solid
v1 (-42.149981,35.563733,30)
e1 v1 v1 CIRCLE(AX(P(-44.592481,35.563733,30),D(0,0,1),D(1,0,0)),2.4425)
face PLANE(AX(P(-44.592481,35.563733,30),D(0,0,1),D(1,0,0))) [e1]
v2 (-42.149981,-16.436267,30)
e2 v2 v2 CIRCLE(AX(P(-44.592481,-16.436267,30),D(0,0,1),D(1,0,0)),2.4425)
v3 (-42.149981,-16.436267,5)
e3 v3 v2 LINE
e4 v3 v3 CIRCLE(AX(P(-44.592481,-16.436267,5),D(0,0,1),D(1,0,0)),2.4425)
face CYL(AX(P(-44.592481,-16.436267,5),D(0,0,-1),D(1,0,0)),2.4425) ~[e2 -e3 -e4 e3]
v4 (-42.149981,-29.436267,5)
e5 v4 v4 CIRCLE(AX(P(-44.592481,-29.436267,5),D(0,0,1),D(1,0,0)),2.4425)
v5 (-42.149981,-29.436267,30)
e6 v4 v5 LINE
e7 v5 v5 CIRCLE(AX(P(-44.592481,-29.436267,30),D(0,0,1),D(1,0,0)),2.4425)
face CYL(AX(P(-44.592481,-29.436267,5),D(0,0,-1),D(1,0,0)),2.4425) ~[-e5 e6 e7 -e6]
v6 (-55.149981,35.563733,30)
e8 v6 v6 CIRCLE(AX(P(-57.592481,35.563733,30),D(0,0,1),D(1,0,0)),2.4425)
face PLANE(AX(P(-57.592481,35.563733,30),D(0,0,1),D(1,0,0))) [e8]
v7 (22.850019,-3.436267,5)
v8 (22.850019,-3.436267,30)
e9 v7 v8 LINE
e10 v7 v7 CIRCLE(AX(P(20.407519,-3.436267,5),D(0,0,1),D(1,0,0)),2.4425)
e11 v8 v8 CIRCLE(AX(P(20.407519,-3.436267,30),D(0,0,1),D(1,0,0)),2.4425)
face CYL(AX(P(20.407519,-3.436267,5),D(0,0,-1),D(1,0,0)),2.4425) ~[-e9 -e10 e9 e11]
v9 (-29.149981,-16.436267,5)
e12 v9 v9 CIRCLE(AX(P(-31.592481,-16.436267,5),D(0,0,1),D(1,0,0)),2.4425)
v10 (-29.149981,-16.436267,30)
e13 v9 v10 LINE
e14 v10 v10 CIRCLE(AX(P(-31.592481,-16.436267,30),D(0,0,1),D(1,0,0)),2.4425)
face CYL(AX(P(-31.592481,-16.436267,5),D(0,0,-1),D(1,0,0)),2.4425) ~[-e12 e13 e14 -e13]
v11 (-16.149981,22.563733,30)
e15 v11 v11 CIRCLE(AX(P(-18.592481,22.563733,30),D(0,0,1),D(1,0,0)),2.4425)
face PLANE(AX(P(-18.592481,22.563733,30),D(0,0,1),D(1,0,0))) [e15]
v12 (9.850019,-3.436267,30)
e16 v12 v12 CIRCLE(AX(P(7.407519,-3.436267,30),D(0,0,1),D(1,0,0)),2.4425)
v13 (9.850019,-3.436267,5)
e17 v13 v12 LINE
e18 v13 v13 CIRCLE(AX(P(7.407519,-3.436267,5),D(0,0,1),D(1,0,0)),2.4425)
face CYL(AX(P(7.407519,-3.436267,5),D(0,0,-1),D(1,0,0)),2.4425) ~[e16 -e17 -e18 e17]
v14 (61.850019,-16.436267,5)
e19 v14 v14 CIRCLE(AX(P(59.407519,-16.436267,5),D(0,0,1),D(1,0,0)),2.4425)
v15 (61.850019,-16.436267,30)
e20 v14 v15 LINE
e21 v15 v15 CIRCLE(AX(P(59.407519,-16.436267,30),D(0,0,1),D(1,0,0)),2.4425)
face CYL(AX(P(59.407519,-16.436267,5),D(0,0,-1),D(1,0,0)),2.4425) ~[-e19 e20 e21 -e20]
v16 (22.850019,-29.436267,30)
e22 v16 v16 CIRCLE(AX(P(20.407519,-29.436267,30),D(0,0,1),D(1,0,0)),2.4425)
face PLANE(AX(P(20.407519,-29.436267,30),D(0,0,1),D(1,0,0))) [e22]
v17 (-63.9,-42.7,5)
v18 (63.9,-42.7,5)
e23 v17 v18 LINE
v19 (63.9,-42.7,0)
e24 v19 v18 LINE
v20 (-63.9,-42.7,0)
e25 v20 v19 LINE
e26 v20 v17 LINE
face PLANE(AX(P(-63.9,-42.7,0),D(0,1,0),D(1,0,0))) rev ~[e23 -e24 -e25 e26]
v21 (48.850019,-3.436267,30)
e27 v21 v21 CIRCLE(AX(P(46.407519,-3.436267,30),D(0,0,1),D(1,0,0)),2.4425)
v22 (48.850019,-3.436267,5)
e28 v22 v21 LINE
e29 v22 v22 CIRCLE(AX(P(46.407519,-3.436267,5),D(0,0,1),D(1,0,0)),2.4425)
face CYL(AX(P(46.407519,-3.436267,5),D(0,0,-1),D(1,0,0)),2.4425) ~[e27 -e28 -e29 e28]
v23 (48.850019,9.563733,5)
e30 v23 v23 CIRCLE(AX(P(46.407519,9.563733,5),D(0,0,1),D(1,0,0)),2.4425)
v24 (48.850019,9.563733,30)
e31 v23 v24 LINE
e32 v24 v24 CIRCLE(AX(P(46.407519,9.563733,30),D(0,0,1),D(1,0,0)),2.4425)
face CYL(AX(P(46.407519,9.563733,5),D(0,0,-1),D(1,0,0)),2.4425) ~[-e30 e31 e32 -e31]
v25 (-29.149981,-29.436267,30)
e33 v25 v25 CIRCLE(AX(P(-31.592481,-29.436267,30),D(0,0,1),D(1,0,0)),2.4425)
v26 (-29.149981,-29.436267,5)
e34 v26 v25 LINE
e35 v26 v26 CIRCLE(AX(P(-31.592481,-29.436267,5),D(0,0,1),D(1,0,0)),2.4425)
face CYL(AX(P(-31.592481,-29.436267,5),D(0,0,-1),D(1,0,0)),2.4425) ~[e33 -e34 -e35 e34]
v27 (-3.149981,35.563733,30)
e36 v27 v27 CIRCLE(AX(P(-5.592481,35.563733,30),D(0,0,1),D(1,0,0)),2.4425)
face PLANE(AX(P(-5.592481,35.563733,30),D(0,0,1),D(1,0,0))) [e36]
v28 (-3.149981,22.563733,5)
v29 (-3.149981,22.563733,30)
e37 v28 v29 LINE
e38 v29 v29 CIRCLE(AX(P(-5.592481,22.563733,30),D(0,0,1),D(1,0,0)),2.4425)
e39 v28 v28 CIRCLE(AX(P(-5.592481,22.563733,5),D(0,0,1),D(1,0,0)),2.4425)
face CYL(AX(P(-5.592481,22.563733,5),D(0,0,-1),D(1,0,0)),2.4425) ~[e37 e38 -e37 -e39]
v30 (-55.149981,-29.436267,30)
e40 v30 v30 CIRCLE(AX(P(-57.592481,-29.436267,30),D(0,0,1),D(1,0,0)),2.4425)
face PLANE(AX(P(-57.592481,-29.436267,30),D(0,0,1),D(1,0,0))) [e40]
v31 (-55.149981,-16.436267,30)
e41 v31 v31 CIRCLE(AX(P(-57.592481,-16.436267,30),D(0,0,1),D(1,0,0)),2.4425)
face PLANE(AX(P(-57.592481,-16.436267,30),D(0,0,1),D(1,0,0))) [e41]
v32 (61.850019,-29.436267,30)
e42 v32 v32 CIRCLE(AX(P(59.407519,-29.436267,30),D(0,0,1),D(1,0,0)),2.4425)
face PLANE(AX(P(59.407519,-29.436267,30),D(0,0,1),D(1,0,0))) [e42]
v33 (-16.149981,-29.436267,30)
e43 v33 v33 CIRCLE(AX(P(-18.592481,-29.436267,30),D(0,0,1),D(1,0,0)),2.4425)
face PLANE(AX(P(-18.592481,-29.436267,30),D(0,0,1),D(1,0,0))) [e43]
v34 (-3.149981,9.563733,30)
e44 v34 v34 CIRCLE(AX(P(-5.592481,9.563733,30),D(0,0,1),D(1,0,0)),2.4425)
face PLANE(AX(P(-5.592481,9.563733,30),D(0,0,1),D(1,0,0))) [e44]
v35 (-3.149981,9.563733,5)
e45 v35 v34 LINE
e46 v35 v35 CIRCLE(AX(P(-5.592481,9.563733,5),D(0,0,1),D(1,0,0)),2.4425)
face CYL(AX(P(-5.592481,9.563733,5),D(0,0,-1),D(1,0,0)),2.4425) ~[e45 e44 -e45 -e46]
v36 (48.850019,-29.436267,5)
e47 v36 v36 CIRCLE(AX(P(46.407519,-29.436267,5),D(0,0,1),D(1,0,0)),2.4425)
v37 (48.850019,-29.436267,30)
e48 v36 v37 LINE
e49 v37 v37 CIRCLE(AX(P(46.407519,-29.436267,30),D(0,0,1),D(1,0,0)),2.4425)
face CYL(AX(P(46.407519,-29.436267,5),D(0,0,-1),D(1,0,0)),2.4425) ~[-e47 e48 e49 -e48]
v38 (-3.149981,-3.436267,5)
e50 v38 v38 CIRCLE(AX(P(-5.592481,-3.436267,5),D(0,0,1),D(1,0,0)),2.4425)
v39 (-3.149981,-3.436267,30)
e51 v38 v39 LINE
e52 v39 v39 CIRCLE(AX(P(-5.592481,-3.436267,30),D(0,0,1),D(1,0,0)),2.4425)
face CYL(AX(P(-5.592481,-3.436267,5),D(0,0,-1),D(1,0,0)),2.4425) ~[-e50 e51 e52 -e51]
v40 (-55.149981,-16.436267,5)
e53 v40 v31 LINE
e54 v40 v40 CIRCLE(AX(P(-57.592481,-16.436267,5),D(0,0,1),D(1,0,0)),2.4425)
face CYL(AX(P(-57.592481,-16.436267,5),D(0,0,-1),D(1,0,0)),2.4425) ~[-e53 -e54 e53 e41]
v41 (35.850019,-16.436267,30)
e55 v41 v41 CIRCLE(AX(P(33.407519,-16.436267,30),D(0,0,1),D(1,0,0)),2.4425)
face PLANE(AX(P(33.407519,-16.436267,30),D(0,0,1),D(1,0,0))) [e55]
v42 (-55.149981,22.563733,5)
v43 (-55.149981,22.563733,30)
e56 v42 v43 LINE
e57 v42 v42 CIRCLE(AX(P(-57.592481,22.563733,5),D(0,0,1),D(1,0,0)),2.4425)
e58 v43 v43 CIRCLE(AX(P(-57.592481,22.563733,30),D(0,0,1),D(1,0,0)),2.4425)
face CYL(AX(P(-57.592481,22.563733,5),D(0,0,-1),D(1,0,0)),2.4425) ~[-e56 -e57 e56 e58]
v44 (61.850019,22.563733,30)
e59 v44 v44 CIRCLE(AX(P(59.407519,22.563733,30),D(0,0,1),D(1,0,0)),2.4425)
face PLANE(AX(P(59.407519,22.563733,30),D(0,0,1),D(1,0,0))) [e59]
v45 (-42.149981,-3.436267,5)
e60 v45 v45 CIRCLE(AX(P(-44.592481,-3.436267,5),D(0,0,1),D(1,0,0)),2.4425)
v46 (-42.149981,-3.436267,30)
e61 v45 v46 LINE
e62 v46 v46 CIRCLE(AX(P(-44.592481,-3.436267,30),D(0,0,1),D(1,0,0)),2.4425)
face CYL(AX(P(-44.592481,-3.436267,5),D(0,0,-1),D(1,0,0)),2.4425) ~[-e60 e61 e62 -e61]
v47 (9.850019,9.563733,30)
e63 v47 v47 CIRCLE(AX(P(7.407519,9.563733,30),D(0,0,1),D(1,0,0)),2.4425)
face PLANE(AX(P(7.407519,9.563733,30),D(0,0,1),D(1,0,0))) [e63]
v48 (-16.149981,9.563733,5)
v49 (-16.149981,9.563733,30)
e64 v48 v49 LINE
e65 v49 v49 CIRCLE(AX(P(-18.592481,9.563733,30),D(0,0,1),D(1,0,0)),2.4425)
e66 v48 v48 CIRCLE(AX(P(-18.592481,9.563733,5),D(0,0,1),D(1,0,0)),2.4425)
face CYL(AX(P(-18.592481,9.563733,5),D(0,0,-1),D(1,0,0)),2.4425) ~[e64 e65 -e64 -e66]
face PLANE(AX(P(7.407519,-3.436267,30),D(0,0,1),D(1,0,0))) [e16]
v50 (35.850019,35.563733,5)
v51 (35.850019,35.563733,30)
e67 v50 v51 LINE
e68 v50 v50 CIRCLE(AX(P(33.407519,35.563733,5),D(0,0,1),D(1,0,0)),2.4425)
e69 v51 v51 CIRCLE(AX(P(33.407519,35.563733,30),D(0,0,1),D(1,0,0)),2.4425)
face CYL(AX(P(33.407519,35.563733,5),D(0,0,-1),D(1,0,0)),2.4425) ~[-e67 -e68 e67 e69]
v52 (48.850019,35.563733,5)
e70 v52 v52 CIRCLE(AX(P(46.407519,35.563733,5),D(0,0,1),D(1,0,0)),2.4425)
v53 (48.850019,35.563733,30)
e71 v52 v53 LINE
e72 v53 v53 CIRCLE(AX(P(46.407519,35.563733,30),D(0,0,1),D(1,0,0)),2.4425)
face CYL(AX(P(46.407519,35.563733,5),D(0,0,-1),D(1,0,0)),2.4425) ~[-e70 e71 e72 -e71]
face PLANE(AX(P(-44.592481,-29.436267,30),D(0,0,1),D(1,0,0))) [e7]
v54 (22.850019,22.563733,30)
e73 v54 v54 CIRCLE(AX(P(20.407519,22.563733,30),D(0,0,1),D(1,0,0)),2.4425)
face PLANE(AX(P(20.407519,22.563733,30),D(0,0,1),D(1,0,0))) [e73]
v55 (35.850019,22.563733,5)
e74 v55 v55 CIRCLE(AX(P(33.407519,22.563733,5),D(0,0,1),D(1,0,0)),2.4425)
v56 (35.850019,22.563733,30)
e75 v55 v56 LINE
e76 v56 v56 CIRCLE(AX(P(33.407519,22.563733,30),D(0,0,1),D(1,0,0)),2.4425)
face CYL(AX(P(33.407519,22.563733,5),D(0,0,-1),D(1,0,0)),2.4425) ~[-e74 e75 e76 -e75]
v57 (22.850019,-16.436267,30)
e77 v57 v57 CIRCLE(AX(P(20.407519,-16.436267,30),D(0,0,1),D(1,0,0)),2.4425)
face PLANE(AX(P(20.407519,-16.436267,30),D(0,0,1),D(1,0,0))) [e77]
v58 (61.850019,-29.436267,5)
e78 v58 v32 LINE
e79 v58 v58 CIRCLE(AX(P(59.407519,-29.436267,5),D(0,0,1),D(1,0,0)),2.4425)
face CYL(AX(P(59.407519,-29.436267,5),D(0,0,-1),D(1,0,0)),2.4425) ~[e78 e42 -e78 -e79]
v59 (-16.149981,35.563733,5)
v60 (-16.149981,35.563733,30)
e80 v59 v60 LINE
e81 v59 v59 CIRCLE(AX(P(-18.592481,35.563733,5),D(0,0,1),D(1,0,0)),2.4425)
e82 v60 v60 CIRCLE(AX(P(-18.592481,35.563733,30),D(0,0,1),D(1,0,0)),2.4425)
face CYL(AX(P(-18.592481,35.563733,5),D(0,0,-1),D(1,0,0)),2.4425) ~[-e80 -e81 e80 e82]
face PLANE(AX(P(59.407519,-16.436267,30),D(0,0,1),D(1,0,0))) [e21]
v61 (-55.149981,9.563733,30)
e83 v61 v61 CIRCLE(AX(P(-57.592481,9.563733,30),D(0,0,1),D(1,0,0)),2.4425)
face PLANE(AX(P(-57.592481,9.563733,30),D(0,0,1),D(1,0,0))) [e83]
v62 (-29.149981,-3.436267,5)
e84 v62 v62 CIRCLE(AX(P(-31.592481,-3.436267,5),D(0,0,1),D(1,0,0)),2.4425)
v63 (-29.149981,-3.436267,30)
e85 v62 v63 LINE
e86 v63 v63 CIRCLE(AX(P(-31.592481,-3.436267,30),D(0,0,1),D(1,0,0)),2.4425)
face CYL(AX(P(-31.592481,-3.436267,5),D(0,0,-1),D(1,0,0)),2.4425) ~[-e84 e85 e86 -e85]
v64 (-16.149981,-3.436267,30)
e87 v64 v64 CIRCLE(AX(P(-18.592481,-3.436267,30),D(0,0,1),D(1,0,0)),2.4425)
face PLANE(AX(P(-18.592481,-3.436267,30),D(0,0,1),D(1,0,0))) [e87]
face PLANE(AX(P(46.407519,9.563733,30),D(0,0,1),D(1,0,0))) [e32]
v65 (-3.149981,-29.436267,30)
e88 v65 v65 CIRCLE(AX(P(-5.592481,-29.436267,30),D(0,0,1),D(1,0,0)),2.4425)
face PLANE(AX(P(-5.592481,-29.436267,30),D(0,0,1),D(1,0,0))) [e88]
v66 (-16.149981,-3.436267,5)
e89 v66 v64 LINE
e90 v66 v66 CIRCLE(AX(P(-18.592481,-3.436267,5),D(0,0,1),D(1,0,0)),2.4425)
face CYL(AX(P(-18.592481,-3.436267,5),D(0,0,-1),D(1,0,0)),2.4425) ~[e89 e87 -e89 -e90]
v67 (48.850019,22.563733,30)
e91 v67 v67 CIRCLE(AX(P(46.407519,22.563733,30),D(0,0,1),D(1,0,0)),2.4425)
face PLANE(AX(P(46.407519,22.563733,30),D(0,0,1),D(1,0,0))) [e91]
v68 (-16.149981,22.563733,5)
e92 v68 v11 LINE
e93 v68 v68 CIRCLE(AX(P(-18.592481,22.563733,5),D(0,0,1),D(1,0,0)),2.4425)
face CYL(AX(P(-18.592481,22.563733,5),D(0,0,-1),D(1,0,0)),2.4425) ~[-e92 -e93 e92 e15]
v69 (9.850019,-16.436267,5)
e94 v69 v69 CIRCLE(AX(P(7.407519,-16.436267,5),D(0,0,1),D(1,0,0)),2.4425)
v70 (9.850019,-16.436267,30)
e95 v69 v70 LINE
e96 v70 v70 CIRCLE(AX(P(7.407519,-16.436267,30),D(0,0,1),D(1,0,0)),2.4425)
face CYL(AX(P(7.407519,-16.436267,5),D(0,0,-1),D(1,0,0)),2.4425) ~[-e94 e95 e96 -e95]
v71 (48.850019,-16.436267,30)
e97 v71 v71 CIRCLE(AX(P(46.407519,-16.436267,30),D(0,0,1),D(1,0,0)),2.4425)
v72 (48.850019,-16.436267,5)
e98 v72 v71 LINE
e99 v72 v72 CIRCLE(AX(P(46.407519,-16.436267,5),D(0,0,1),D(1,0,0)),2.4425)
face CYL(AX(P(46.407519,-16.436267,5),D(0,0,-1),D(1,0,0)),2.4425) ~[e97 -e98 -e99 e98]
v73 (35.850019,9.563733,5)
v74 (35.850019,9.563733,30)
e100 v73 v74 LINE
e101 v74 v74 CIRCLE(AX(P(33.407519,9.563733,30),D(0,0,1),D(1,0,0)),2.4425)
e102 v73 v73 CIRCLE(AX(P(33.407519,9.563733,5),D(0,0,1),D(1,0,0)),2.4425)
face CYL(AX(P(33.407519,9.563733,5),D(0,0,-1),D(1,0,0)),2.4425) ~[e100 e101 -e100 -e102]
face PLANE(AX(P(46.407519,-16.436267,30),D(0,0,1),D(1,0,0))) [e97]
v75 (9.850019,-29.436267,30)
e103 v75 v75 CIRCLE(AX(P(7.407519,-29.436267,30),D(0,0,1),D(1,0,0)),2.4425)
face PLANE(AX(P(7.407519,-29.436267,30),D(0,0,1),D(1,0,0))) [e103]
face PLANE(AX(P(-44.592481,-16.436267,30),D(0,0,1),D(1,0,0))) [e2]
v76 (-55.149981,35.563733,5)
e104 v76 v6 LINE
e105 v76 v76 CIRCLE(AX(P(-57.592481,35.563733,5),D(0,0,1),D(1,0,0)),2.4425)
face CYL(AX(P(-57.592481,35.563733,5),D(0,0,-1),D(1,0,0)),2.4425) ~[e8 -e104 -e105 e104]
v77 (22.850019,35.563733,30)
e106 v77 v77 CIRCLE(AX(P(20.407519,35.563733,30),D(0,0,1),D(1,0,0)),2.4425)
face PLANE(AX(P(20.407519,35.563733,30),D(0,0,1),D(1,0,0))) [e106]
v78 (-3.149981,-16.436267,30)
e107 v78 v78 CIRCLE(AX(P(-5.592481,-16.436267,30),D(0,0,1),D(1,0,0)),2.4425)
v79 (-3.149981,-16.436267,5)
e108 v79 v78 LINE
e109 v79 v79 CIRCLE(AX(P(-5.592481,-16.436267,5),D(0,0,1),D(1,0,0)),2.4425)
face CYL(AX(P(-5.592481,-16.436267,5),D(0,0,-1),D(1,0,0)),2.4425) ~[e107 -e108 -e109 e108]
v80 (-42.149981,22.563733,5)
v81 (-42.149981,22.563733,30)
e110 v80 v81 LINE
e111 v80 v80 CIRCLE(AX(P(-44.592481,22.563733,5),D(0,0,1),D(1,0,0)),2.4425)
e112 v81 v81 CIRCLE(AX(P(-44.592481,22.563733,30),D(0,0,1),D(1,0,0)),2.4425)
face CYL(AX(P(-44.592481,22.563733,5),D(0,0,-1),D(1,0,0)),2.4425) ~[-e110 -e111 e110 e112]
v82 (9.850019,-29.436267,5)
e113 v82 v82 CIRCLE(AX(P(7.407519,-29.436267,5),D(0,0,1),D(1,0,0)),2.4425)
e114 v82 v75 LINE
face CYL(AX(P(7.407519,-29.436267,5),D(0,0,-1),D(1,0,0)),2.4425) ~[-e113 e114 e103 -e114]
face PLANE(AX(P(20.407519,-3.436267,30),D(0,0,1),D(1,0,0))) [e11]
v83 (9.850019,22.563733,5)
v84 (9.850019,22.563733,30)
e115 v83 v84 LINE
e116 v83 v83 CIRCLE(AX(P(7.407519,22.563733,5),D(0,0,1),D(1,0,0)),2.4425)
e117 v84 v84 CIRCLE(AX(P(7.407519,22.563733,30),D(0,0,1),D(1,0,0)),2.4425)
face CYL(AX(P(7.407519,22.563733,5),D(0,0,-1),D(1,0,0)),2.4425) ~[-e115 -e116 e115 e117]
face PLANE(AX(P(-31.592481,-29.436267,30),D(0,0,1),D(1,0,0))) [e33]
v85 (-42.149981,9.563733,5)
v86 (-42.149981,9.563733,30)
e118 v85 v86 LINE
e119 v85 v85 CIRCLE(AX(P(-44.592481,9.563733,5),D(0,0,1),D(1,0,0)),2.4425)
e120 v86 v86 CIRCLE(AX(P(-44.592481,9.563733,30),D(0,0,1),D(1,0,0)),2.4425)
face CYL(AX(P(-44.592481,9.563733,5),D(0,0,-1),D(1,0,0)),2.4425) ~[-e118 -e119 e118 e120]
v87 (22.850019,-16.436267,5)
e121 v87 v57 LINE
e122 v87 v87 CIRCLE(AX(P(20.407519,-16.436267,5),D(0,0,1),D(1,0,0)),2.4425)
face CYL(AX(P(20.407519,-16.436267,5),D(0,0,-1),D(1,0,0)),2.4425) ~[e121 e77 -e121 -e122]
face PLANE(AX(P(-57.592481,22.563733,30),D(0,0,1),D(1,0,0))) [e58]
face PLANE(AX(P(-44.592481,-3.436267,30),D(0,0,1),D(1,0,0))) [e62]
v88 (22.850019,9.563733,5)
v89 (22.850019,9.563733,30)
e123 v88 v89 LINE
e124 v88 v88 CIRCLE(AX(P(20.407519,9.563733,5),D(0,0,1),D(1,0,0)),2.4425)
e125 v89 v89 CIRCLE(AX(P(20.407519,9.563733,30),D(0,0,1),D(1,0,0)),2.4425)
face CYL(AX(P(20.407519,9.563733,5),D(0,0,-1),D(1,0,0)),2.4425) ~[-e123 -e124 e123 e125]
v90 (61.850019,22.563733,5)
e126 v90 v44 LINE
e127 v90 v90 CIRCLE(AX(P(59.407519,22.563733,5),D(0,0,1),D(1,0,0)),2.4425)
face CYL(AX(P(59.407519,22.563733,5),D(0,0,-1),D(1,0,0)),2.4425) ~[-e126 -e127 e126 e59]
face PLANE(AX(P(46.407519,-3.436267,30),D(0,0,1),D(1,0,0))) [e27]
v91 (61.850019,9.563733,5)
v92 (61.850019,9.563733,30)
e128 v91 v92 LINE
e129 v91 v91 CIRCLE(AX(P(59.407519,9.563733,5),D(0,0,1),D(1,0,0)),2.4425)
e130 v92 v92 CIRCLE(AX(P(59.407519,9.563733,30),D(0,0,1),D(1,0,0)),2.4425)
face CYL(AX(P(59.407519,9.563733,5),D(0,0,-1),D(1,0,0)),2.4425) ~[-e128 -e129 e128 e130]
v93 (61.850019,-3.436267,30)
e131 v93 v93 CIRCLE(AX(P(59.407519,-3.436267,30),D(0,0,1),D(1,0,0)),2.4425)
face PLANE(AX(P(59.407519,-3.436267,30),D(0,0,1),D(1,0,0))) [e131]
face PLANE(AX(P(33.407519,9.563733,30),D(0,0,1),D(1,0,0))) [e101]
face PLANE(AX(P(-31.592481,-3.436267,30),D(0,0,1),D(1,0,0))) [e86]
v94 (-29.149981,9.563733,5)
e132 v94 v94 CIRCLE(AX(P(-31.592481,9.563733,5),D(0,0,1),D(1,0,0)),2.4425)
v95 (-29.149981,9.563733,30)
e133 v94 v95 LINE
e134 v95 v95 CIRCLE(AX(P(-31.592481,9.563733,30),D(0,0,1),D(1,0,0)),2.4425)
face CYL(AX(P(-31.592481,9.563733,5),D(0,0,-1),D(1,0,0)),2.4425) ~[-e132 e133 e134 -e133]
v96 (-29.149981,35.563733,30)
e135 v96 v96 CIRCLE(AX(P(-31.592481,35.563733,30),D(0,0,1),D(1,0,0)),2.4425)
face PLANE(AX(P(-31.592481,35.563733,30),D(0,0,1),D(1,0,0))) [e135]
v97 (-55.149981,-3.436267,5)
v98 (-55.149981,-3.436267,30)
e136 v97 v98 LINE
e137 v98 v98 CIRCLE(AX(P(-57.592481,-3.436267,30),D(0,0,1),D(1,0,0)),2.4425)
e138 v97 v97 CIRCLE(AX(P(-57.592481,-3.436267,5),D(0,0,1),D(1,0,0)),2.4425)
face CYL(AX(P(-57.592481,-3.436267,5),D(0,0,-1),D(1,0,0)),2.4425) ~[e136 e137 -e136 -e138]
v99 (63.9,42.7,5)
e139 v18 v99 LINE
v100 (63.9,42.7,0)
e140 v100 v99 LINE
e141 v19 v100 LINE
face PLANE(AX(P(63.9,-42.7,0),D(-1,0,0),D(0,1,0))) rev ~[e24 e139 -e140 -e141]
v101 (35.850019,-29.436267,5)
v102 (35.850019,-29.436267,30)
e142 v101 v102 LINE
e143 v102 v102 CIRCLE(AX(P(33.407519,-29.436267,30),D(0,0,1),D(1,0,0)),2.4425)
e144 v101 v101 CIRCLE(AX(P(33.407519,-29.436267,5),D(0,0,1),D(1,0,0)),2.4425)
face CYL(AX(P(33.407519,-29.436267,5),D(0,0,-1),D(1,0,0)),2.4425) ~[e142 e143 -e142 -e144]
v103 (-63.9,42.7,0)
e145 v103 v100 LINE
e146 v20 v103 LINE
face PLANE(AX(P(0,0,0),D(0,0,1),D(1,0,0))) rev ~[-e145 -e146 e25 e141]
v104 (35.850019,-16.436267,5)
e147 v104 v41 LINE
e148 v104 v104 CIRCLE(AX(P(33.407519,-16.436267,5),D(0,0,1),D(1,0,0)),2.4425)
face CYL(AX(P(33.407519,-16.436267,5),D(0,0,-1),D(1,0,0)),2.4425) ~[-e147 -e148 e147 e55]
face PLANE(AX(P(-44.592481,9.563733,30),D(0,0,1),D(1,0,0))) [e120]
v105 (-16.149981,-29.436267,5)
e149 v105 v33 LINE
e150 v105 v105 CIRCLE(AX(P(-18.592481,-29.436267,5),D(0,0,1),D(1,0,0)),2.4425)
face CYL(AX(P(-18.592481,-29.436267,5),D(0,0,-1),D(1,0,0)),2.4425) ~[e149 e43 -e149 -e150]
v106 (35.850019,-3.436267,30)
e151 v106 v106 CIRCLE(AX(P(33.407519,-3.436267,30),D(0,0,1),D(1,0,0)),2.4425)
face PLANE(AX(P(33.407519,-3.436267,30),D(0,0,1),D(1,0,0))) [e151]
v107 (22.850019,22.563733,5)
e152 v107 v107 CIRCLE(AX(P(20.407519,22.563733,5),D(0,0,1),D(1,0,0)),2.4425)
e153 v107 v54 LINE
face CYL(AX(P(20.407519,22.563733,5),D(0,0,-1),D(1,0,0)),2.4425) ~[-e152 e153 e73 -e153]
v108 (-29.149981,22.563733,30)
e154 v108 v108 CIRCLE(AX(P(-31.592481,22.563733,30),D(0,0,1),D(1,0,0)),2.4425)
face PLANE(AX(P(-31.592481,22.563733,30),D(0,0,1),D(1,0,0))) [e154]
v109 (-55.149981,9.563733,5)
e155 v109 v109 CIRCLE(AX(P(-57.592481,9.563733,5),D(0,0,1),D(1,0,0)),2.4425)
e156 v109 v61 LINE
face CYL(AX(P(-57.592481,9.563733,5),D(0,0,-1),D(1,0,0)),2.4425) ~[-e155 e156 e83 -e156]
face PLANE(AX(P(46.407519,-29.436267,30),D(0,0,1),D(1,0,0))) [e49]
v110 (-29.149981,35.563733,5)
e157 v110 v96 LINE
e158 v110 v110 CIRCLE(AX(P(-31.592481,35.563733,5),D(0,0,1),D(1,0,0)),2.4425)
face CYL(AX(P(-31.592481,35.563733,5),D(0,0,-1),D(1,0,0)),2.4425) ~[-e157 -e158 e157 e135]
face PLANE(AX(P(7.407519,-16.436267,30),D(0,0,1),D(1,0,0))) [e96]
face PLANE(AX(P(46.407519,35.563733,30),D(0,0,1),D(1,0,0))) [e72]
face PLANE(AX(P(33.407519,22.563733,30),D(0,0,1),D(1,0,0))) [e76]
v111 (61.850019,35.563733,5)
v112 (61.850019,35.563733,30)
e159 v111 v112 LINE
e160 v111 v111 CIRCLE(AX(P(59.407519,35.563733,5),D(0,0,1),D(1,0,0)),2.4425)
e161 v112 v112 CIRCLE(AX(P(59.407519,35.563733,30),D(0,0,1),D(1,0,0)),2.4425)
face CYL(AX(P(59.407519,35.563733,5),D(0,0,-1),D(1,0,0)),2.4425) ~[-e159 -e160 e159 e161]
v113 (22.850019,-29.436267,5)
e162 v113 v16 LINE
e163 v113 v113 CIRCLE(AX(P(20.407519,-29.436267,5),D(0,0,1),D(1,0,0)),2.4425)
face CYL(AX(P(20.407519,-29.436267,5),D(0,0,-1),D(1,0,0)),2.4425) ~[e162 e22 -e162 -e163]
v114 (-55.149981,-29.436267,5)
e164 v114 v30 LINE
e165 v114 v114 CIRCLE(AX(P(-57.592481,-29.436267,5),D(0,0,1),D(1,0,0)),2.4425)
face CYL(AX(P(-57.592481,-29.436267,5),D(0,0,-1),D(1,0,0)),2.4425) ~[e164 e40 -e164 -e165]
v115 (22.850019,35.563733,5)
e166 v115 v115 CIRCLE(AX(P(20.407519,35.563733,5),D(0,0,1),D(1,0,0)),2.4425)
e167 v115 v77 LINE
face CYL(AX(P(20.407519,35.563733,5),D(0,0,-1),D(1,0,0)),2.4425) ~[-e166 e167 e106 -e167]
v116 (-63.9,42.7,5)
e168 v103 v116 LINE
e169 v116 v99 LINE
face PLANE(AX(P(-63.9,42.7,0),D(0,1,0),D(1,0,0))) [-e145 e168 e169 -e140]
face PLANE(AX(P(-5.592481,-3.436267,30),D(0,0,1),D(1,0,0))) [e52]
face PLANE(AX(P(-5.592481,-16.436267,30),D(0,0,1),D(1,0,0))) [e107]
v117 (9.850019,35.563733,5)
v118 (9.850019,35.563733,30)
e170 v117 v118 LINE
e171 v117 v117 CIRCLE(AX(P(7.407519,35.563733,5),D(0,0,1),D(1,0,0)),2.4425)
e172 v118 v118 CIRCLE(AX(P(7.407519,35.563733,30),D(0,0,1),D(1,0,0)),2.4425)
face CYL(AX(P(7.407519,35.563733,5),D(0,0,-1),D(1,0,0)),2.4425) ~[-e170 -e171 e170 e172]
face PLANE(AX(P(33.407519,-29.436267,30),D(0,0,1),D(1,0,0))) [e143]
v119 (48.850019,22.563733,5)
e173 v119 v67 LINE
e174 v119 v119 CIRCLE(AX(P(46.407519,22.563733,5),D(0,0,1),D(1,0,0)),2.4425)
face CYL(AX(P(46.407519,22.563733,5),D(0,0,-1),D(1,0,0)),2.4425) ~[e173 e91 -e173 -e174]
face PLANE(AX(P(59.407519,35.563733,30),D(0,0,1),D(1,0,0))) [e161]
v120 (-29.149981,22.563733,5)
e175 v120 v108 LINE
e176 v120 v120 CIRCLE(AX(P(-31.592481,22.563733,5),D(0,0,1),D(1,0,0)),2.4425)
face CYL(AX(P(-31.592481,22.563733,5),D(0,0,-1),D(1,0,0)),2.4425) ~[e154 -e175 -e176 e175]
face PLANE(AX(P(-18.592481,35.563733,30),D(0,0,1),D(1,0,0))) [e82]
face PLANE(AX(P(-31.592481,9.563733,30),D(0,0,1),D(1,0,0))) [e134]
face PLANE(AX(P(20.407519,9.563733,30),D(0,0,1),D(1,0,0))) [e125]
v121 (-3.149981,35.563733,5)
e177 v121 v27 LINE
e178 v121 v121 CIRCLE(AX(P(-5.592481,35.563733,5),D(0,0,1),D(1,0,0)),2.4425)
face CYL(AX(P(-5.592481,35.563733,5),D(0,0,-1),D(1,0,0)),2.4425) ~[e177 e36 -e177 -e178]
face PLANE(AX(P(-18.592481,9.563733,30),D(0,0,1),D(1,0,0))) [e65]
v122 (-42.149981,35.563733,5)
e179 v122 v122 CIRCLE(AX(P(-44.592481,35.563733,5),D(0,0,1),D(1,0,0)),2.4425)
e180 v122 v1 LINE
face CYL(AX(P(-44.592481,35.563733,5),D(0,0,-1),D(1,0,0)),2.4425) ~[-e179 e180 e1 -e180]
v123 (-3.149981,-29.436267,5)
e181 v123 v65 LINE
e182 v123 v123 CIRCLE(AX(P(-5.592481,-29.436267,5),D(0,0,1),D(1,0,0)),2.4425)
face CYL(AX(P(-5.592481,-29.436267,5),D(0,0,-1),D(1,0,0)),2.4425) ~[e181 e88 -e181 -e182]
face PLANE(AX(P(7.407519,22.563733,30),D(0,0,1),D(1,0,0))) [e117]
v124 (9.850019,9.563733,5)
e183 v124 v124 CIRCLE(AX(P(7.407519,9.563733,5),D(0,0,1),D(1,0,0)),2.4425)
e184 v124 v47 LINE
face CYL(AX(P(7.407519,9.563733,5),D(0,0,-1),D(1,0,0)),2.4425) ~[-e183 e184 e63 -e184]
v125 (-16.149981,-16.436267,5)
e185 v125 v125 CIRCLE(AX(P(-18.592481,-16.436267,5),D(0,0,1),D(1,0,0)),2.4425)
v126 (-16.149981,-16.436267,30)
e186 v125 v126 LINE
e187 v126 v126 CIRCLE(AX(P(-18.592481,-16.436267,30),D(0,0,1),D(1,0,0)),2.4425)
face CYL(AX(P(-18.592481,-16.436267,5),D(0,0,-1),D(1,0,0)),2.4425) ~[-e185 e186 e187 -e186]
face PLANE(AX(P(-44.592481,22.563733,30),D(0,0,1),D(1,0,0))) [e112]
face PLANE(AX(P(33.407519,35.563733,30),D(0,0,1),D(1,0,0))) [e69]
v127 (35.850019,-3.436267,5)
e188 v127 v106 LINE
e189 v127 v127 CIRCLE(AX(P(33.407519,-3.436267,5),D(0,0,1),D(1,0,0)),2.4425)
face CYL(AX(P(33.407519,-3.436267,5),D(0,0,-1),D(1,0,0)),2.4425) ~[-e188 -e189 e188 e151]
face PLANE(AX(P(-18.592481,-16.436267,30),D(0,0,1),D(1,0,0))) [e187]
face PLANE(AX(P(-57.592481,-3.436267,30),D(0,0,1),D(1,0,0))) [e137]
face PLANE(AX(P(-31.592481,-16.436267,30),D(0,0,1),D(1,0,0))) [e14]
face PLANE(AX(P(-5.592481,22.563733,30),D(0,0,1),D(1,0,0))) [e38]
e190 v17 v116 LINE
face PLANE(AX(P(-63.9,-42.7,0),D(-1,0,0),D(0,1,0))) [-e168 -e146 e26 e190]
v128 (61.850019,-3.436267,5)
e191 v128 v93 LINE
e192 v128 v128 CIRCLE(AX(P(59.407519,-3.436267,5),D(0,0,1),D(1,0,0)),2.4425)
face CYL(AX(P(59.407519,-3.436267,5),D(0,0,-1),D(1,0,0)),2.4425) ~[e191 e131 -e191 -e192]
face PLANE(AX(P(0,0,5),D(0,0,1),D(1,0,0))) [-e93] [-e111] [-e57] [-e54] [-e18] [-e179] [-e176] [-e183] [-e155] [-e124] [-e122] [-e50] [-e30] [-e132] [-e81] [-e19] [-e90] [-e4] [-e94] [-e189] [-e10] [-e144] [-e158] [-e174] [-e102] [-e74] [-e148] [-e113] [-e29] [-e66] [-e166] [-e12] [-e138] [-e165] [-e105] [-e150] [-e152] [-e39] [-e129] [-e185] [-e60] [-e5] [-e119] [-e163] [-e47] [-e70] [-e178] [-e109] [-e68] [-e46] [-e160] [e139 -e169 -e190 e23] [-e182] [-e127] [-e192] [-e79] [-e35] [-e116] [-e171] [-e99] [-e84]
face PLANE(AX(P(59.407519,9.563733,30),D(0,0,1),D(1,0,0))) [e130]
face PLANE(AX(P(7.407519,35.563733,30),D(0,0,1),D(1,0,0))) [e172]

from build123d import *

# Parameters (mm, degrees)
F0_W     = 127.8
F0_H     = 85.4
F1_DEPTH = 5
F2_R     = 2.4425
F3_DEPTH = 25


with BuildPart() as f1:
    # F0 (on Top) → F1 (new body)
    with BuildSketch(Plane.XY):
        Rectangle(F0_W, F0_H)
    extrude(amount=F1_DEPTH)

    # F2 (on face) → F3 (join)
    with BuildSketch(Plane.XY.offset(5)):
        with Locations((-57.592481, 35.563733)):
            Circle(F2_R)
        with Locations((-44.592481, 35.563733)):
            Circle(F2_R)
        with Locations((-31.592481, 35.563733)):
            Circle(F2_R)
        with Locations((-18.592481, 35.563733)):
            Circle(F2_R)
        with Locations((-5.592481, 35.563733)):
            Circle(F2_R)
        with Locations((7.407519, 35.563733)):
            Circle(F2_R)
        with Locations((20.407519, 35.563733)):
            Circle(F2_R)
        with Locations((33.407519, 35.563733)):
            Circle(F2_R)
        with Locations((46.407519, 35.563733)):
            Circle(F2_R)
        with Locations((59.407519, 35.563733)):
            Circle(F2_R)
        with Locations((46.407519, 22.563733)):
            Circle(F2_R)
        with Locations((33.407519, 22.563733)):
            Circle(F2_R)
        with Locations((59.407519, 22.563733)):
            Circle(F2_R)
        with Locations((-57.592481, 22.563733)):
            Circle(F2_R)
        with Locations((-44.592481, 22.563733)):
            Circle(F2_R)
        with Locations((-31.592481, 22.563733)):
            Circle(F2_R)
        with Locations((-18.592481, 22.563733)):
            Circle(F2_R)
        with Locations((-5.592481, 22.563733)):
            Circle(F2_R)
        with Locations((7.407519, 22.563733)):
            Circle(F2_R)
        with Locations((20.407519, 22.563733)):
            Circle(F2_R)
        with Locations((46.407519, 9.563733)):
            Circle(F2_R)
        with Locations((33.407519, 9.563733)):
            Circle(F2_R)
        with Locations((59.407519, 9.563733)):
            Circle(F2_R)
        with Locations((-57.592481, 9.563733)):
            Circle(F2_R)
        with Locations((-44.592481, 9.563733)):
            Circle(F2_R)
        with Locations((-31.592481, 9.563733)):
            Circle(F2_R)
        with Locations((-18.592481, 9.563733)):
            Circle(F2_R)
        with Locations((-5.592481, 9.563733)):
            Circle(F2_R)
        with Locations((7.407519, 9.563733)):
            Circle(F2_R)
        with Locations((20.407519, 9.563733)):
            Circle(F2_R)
        with Locations((46.407519, -3.436267)):
            Circle(F2_R)
        with Locations((33.407519, -3.436267)):
            Circle(F2_R)
        with Locations((59.407519, -3.436267)):
            Circle(F2_R)
        with Locations((-57.592481, -3.436267)):
            Circle(F2_R)
        with Locations((-44.592481, -3.436267)):
            Circle(F2_R)
        with Locations((-31.592481, -3.436267)):
            Circle(F2_R)
        with Locations((-18.592481, -3.436267)):
            Circle(F2_R)
        with Locations((-5.592481, -3.436267)):
            Circle(F2_R)
        with Locations((7.407519, -3.436267)):
            Circle(F2_R)
        with Locations((20.407519, -3.436267)):
            Circle(F2_R)
        with Locations((46.407519, -16.436267)):
            Circle(F2_R)
        with Locations((33.407519, -16.436267)):
            Circle(F2_R)
        with Locations((59.407519, -16.436267)):
            Circle(F2_R)
        with Locations((-57.592481, -16.436267)):
            Circle(F2_R)
        with Locations((-44.592481, -16.436267)):
            Circle(F2_R)
        with Locations((-31.592481, -16.436267)):
            Circle(F2_R)
        with Locations((-18.592481, -16.436267)):
            Circle(F2_R)
        with Locations((-5.592481, -16.436267)):
            Circle(F2_R)
        with Locations((7.407519, -16.436267)):
            Circle(F2_R)
        with Locations((20.407519, -16.436267)):
            Circle(F2_R)
        with Locations((46.407519, -29.436267)):
            Circle(F2_R)
        with Locations((33.407519, -29.436267)):
            Circle(F2_R)
        with Locations((59.407519, -29.436267)):
            Circle(F2_R)
        with Locations((-57.592481, -29.436267)):
            Circle(F2_R)
        with Locations((-44.592481, -29.436267)):
            Circle(F2_R)
        with Locations((-31.592481, -29.436267)):
            Circle(F2_R)
        with Locations((-18.592481, -29.436267)):
            Circle(F2_R)
        with Locations((-5.592481, -29.436267)):
            Circle(F2_R)
        with Locations((7.407519, -29.436267)):
            Circle(F2_R)
        with Locations((20.407519, -29.436267)):
            Circle(F2_R)
    extrude(amount=F3_DEPTH)


solid = f1.part
